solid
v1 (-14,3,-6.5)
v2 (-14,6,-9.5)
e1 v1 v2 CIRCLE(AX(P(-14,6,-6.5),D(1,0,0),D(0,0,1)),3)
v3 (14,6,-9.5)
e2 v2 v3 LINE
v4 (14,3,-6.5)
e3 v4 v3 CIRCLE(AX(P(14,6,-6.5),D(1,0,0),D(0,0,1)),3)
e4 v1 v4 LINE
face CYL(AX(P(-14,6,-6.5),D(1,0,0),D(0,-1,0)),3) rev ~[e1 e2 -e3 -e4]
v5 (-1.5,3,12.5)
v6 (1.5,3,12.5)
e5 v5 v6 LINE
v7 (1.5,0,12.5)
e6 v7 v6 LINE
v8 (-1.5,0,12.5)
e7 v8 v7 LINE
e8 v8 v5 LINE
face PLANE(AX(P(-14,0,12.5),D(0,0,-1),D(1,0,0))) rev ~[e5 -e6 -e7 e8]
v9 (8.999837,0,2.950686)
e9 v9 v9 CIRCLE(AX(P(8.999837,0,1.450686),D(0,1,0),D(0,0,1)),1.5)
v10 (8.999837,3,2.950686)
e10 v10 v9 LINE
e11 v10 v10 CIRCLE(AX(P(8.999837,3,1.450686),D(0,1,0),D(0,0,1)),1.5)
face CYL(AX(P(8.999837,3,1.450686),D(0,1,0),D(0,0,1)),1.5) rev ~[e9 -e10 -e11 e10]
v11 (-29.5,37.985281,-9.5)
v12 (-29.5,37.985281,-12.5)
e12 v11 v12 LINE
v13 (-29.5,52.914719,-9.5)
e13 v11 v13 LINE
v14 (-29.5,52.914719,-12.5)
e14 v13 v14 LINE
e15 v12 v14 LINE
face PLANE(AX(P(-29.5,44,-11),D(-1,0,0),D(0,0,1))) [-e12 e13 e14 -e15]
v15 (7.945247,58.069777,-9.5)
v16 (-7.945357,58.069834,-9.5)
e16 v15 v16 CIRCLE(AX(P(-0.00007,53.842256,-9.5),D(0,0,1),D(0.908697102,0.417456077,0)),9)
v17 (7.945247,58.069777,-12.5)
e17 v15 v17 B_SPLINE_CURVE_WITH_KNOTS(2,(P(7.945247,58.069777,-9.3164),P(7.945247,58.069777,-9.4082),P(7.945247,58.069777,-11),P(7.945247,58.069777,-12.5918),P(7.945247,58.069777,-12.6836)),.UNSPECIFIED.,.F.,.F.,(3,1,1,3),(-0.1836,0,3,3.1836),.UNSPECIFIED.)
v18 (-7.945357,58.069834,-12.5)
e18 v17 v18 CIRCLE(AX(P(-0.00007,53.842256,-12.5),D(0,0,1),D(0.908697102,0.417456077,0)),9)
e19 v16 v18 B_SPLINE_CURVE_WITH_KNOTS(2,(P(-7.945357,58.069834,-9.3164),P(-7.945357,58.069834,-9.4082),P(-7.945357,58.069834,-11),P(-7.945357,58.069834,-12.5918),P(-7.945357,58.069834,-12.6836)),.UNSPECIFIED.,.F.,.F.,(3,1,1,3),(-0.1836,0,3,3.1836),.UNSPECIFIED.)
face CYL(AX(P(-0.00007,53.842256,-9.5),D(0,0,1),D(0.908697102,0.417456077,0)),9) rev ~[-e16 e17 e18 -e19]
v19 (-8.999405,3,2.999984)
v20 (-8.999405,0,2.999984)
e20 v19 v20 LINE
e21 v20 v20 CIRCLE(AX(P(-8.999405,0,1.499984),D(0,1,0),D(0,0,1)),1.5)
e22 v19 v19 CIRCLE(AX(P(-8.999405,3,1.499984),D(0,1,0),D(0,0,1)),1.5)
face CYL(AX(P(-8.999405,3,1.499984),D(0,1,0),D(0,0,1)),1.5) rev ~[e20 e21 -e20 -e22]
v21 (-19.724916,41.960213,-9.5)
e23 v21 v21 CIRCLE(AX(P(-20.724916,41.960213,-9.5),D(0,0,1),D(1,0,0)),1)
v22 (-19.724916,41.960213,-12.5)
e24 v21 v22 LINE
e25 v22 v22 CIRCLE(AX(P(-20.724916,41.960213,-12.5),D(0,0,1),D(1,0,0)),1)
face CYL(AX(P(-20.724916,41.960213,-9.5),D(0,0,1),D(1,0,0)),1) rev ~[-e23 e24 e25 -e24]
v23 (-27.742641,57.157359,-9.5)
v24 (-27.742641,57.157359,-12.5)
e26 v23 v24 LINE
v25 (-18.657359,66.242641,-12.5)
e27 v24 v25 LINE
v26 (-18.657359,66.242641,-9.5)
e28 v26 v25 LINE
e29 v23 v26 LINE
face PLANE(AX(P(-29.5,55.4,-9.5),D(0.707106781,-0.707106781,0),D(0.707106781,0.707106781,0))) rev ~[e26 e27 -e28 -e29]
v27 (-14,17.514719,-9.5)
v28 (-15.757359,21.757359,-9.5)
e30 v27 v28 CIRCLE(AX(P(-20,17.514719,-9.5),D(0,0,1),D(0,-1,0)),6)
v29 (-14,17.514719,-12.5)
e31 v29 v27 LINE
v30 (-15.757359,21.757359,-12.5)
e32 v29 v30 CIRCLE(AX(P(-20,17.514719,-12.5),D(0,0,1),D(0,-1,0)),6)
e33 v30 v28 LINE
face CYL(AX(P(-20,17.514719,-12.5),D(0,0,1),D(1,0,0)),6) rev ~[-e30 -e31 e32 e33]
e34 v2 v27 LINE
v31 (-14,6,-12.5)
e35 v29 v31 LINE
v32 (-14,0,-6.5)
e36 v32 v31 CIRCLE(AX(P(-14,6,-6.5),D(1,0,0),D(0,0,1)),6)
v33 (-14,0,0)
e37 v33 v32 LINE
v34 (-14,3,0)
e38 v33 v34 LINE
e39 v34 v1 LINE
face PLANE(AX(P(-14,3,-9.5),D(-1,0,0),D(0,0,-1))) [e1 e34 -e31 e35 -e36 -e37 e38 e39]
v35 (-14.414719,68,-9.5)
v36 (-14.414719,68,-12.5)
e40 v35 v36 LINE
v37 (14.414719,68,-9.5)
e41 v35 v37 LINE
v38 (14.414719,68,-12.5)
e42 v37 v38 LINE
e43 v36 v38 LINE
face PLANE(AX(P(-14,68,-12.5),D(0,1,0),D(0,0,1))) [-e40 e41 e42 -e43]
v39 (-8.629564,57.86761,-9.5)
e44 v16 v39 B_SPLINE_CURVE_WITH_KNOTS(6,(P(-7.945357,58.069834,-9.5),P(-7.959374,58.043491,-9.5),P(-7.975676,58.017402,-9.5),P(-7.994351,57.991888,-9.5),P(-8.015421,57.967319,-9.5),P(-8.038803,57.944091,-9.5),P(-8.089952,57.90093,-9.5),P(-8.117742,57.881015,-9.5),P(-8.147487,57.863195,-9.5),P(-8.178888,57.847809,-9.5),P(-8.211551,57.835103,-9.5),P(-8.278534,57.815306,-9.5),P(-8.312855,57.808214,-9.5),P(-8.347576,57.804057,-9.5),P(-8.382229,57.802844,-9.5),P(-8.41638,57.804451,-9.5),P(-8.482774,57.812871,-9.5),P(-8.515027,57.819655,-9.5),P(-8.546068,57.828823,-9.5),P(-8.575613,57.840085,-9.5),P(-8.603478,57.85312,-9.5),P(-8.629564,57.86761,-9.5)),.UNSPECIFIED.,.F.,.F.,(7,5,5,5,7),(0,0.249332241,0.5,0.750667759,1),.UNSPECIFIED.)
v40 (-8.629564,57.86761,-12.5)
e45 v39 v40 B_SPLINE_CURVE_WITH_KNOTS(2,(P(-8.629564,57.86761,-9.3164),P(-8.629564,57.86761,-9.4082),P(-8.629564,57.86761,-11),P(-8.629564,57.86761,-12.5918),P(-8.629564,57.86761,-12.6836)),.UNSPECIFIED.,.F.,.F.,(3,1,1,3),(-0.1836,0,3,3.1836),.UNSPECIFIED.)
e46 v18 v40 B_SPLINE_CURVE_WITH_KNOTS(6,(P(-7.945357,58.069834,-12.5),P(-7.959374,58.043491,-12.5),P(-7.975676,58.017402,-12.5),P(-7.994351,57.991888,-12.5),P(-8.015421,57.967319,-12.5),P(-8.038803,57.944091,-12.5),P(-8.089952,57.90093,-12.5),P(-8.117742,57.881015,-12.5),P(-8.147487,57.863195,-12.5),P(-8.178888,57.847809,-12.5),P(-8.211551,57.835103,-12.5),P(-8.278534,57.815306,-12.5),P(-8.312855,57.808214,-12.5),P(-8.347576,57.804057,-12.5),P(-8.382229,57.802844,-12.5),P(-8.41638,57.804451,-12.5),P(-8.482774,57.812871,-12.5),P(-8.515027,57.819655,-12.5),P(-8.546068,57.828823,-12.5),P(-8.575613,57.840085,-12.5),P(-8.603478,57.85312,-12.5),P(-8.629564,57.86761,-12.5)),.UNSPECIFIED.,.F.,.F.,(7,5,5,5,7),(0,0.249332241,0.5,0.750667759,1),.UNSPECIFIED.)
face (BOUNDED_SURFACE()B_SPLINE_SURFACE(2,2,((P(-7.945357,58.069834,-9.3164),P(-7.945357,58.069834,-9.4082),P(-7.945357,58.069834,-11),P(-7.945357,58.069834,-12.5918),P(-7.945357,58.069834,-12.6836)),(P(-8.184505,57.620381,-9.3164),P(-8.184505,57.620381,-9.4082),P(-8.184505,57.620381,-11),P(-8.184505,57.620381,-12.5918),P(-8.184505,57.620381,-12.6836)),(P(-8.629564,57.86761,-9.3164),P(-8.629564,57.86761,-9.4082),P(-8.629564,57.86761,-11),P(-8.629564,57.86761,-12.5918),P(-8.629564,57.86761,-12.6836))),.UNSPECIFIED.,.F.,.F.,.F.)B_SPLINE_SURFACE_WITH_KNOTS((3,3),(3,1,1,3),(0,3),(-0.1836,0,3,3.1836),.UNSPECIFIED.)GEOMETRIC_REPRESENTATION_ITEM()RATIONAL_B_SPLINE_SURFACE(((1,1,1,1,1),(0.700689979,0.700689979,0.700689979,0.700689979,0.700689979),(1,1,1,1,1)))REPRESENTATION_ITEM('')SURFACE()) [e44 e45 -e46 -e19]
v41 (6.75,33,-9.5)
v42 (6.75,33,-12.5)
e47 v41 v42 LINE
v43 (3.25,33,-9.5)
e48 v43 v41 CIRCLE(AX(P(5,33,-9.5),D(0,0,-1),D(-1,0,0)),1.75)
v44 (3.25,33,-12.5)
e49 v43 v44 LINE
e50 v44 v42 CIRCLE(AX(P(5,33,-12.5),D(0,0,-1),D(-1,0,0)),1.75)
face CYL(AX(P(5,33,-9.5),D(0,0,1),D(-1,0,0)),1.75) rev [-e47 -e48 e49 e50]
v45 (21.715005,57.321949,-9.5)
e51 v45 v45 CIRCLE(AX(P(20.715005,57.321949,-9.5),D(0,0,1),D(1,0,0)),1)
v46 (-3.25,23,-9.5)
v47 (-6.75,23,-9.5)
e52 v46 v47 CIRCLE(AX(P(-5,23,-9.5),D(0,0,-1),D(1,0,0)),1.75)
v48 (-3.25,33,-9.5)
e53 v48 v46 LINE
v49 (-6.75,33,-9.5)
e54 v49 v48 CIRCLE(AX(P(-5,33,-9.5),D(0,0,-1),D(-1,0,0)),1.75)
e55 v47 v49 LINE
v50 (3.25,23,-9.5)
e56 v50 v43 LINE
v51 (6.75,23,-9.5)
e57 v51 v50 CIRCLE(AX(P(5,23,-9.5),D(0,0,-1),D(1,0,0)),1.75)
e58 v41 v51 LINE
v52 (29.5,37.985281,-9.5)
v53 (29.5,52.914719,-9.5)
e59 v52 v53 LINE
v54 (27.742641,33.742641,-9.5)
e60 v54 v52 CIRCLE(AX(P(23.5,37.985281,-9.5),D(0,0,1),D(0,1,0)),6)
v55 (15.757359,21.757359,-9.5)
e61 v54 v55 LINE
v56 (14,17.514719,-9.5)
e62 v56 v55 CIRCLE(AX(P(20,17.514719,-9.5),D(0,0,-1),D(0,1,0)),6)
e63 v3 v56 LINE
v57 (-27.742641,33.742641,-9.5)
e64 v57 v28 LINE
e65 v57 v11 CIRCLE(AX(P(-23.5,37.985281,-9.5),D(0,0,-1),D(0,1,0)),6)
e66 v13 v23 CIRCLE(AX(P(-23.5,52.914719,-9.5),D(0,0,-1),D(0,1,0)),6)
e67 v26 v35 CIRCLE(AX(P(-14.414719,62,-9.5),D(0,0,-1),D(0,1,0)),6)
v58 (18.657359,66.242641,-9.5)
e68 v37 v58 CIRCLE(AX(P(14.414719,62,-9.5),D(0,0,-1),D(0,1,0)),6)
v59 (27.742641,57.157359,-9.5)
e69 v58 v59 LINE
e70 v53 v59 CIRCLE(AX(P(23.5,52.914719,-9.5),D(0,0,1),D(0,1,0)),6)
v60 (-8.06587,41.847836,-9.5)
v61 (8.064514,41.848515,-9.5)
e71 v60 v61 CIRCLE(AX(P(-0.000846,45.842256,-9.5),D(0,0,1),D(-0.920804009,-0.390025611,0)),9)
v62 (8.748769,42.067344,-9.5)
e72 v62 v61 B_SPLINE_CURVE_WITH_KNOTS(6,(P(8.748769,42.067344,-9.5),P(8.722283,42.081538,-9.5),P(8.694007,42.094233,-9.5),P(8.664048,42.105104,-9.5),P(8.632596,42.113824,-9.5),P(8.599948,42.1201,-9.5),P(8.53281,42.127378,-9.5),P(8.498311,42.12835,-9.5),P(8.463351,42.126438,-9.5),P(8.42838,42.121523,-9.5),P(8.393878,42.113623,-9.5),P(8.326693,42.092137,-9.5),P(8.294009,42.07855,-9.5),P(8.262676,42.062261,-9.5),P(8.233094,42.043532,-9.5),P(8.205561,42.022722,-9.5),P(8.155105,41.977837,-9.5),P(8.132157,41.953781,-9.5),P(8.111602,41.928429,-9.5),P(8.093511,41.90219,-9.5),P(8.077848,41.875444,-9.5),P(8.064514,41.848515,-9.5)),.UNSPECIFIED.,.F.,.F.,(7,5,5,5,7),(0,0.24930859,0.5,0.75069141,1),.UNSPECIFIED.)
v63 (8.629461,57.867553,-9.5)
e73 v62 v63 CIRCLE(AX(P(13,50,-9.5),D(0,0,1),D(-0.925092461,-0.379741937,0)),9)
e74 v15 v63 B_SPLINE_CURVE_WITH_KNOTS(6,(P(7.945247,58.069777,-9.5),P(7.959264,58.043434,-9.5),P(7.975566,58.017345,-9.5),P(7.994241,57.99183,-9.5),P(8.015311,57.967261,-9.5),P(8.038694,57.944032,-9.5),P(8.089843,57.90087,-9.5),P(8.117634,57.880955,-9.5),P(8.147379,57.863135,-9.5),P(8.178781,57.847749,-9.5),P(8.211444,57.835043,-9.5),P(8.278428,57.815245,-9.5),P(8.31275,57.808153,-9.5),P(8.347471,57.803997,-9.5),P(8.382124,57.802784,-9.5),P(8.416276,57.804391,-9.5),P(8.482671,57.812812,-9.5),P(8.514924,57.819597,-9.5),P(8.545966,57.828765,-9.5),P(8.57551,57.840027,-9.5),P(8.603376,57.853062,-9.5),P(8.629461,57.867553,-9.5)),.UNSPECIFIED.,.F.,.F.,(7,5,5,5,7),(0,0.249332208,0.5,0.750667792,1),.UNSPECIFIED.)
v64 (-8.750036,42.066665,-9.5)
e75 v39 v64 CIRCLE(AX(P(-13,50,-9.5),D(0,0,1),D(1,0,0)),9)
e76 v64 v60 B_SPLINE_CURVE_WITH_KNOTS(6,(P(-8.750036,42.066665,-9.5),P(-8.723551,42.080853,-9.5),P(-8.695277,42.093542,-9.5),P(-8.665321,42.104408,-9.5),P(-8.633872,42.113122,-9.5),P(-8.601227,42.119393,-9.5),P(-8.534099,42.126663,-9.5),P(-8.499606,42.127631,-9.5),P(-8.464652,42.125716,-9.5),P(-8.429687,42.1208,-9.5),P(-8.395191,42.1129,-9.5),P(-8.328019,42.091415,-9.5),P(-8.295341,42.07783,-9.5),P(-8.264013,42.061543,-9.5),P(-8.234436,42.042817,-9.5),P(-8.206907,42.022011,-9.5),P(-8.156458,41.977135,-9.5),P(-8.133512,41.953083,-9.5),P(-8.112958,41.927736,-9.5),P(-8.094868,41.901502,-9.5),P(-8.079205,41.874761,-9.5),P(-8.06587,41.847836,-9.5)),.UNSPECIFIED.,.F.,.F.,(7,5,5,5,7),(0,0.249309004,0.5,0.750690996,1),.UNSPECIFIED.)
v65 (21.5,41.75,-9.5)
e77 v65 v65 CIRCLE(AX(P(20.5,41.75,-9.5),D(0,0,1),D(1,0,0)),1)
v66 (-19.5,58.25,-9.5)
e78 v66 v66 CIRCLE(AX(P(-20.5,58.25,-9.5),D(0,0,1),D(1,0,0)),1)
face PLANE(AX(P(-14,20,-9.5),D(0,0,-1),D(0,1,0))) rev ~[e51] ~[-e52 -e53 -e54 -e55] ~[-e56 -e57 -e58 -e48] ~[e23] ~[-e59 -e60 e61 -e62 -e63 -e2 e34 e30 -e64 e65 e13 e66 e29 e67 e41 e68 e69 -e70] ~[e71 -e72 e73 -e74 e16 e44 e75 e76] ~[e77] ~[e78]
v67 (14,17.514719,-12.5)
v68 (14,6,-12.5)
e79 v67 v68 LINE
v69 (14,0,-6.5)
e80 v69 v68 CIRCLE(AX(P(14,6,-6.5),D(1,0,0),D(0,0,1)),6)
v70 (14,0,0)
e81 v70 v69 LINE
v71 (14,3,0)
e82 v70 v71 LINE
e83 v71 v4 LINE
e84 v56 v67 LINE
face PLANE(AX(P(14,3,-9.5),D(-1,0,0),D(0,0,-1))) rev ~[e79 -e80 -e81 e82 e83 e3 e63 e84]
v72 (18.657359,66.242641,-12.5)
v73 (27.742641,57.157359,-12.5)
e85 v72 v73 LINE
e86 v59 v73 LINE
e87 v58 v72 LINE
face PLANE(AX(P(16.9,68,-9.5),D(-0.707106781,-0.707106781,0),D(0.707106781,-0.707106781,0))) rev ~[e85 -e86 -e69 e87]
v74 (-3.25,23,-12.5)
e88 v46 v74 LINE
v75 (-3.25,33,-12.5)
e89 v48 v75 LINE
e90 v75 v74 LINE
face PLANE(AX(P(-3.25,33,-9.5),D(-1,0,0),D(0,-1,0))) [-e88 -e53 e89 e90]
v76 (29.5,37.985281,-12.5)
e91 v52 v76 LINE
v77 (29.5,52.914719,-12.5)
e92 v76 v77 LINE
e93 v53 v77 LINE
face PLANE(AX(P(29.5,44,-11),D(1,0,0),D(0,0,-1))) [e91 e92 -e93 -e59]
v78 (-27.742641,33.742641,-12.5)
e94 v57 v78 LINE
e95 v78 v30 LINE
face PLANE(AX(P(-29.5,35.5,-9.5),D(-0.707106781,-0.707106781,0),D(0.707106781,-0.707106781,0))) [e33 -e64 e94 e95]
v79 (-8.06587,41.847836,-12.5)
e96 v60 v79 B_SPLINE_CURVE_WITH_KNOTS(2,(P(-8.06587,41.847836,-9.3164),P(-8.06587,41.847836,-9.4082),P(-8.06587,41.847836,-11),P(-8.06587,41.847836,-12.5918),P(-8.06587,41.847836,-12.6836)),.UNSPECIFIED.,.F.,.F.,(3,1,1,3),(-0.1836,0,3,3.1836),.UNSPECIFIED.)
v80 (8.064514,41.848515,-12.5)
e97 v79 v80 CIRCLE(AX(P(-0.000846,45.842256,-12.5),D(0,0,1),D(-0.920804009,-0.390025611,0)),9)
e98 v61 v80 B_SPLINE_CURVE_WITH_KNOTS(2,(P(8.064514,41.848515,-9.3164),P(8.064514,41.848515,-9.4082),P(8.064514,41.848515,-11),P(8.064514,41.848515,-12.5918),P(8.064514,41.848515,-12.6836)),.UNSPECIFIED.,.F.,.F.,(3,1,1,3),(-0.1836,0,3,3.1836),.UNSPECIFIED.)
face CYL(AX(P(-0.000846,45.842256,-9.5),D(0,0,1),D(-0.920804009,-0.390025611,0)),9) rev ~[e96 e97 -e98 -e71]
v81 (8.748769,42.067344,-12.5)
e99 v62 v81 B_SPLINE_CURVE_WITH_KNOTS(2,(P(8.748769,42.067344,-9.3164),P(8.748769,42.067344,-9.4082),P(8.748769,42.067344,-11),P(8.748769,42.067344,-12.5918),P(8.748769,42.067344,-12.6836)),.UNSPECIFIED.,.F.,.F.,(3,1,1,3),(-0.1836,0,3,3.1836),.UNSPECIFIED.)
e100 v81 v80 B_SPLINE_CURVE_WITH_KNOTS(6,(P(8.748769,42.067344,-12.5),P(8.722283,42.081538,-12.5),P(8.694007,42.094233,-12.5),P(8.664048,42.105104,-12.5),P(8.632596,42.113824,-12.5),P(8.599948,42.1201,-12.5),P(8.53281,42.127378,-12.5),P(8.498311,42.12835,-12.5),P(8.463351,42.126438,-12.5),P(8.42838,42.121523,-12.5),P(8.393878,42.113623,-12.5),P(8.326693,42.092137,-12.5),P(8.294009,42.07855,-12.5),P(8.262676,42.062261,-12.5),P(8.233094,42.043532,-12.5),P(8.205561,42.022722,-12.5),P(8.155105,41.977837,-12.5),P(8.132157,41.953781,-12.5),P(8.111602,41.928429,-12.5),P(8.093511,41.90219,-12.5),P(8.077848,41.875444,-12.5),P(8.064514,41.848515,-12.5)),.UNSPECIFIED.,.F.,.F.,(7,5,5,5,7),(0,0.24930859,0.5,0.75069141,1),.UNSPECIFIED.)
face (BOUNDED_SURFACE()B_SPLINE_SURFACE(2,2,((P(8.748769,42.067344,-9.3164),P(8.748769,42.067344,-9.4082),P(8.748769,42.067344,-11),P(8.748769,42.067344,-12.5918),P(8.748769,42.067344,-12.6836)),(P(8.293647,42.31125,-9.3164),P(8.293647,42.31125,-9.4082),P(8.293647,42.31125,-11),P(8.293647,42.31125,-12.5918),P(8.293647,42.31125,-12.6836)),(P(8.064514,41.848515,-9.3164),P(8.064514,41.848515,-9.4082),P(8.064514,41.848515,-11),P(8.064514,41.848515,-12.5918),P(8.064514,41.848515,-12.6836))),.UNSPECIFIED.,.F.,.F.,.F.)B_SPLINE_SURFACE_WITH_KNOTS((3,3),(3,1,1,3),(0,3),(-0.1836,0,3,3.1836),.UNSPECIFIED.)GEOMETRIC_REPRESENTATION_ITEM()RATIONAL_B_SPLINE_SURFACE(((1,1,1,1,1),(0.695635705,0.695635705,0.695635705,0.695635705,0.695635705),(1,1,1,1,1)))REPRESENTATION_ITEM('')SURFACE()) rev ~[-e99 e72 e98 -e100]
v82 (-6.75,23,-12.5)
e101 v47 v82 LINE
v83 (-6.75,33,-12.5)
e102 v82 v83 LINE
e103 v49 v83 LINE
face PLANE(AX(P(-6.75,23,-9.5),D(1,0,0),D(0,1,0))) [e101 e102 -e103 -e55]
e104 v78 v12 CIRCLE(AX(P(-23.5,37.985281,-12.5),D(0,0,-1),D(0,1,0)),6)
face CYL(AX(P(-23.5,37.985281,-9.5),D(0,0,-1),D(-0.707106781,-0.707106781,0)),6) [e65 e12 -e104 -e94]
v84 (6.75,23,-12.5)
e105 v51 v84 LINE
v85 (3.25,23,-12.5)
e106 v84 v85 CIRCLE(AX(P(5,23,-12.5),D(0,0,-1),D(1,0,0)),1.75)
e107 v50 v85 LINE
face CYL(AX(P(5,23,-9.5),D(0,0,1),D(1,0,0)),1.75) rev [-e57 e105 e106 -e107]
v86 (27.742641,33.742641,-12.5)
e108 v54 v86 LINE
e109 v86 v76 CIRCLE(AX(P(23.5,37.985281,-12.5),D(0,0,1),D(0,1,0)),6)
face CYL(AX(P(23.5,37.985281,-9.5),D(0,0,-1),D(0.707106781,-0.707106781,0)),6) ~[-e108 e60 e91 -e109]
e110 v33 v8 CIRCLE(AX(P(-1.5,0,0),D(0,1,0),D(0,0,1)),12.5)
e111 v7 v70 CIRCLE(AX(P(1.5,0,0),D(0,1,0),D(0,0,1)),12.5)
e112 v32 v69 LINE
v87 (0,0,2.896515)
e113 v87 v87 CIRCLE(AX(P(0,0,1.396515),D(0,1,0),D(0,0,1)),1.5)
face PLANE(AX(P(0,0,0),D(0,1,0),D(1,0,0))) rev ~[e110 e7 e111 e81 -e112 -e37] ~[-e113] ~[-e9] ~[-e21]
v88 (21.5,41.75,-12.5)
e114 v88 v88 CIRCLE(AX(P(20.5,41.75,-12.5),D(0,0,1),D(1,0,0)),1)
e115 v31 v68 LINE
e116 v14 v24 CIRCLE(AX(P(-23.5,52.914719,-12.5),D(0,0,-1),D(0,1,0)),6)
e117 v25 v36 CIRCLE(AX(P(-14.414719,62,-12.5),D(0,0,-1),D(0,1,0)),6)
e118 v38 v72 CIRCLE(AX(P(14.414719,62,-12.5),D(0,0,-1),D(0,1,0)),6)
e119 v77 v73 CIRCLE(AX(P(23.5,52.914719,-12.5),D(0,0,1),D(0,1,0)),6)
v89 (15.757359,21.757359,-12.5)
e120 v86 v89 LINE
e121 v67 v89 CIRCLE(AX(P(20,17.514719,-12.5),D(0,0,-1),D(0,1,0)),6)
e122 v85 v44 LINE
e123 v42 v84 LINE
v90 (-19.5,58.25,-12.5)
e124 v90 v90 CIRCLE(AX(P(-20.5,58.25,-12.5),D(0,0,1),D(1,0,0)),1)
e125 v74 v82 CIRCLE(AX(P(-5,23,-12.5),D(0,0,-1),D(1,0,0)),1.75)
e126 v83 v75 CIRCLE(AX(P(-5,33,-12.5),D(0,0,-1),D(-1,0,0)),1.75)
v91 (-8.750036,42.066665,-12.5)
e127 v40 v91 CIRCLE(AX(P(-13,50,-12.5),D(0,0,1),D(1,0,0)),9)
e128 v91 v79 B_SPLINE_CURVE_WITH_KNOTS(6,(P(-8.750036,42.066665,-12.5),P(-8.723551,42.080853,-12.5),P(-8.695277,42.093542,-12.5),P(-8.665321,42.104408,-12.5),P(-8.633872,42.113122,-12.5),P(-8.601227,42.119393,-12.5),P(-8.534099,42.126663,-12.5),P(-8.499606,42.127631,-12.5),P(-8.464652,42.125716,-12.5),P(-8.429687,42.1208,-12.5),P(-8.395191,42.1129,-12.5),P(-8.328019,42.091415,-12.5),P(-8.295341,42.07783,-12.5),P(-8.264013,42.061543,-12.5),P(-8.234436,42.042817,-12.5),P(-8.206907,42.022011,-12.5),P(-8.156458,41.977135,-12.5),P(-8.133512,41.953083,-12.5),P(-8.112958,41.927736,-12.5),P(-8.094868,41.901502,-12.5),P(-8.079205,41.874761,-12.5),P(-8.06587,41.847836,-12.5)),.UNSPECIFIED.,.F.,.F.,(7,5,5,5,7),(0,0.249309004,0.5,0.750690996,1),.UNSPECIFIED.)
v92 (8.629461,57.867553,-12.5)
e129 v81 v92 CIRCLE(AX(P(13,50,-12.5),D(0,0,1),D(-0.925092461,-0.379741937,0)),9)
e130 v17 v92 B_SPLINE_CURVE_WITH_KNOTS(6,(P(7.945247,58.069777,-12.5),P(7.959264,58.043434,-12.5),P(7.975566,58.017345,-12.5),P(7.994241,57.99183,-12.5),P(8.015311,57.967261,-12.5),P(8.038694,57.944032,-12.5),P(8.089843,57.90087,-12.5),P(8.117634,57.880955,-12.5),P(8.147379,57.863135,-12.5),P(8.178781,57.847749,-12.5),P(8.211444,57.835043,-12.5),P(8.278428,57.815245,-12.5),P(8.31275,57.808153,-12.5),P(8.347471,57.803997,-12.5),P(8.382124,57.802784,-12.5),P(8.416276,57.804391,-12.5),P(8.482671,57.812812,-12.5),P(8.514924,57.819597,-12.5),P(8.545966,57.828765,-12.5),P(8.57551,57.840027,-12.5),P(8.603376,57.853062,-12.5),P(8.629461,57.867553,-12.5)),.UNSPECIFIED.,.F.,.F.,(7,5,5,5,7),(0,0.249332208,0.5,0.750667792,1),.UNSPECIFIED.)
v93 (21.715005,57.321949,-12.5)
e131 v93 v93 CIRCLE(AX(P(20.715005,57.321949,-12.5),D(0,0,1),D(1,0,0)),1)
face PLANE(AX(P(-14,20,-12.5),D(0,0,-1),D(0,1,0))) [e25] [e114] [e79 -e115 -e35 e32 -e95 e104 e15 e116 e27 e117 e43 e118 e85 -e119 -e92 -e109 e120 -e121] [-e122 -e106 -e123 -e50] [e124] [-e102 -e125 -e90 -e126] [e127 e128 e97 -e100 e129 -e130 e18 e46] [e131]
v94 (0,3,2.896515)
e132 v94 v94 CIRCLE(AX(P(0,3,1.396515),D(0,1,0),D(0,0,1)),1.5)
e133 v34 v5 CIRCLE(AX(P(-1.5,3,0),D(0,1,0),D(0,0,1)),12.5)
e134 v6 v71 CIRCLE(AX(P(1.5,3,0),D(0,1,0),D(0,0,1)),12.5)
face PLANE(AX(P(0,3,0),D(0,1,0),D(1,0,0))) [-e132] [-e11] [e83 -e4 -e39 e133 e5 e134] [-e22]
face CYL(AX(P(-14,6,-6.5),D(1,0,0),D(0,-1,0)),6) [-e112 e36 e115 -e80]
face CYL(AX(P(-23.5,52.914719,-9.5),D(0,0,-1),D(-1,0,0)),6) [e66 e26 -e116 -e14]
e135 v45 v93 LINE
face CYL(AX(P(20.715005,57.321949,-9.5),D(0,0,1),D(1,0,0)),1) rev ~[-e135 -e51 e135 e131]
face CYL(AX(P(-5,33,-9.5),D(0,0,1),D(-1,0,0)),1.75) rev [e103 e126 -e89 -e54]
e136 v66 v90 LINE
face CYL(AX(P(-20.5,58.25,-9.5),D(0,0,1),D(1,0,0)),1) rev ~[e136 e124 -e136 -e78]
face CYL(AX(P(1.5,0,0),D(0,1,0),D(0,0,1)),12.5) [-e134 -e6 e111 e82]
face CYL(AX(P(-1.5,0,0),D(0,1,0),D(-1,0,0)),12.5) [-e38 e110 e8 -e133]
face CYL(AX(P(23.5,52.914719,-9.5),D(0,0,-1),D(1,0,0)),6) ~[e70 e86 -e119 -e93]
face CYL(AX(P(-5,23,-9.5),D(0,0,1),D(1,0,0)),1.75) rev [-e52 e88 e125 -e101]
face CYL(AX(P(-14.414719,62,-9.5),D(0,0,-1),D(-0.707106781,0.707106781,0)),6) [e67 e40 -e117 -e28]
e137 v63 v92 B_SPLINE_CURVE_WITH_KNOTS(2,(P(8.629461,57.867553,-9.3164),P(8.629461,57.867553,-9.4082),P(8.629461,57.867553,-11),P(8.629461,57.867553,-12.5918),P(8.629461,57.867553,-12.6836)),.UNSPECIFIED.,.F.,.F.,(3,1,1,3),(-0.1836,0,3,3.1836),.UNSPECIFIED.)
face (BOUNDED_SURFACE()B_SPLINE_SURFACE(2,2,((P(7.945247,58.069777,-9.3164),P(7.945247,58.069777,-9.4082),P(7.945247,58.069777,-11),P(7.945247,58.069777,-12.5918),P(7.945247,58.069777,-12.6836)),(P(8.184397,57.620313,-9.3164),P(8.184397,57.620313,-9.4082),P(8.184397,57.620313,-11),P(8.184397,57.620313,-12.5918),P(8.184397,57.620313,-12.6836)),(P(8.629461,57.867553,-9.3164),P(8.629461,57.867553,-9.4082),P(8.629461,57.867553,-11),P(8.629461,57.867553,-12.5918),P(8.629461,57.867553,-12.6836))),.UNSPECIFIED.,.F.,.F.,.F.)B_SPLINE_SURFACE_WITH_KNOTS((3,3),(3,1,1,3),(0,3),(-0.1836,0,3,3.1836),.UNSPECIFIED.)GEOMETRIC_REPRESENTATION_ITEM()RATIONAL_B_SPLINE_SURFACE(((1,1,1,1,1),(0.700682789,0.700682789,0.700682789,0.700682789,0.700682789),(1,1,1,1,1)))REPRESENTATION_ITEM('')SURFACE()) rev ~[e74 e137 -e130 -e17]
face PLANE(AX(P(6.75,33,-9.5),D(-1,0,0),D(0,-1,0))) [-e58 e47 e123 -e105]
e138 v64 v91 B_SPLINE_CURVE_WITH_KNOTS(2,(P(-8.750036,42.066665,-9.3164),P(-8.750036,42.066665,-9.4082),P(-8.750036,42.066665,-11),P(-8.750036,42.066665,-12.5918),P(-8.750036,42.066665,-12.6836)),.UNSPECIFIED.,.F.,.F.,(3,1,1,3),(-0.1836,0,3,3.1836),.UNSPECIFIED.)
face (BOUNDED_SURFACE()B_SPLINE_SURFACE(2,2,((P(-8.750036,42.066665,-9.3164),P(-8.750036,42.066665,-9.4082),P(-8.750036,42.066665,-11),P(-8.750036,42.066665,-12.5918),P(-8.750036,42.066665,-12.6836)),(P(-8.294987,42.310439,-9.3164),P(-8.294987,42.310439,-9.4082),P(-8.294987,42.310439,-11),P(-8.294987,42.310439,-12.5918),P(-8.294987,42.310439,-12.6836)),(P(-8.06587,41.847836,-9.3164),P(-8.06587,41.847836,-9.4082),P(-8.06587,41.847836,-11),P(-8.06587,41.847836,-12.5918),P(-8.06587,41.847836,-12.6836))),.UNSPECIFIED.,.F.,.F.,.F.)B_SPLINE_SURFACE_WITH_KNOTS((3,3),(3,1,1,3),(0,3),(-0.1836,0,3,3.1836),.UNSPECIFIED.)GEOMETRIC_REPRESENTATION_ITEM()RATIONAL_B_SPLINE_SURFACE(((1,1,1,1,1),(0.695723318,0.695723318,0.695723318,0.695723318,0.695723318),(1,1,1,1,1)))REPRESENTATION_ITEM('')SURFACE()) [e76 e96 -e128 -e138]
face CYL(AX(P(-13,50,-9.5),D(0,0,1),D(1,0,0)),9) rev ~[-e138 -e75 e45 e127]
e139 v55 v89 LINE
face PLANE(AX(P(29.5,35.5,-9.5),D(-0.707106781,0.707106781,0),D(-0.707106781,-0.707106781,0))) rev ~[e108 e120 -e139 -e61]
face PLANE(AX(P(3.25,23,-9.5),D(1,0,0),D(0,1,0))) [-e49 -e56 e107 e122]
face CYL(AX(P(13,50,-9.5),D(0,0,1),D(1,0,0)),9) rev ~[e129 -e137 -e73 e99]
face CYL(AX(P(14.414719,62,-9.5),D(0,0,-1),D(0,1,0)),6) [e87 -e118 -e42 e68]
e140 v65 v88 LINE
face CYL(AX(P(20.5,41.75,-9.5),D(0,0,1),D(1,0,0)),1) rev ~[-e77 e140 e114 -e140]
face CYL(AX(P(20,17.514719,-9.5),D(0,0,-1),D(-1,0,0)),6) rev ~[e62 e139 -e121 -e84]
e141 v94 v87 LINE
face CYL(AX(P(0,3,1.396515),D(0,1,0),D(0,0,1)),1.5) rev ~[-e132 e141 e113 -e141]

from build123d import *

# Parameters (mm, degrees)
SKETCH1_W           = 28
SKETCH1_H           = 25
BOSS_EXTRUDE1_DEPTH = 3
FILLET1_R           = 12.5
SKETCH2_W           = 28
SKETCH2_H           = 3
BOSS_EXTRUDE2_DEPTH = 65
SKETCH3_W           = 3
SKETCH3_H           = 48
BOSS_EXTRUDE3_DEPTH = 15.5
SKETCH4_W           = 3
SKETCH4_H           = 48
BOSS_EXTRUDE4_DEPTH = 15.5
SKETCH9_W           = 14.741294127
SKETCH9_H           = 6.665628648
CUT_EXTRUDE1_DEPTH  = 3
SKETCH6_R           = 9
CUT_EXTRUDE2_DEPTH  = 3
CUT_EXTRUDE4_DEPTH  = 3
CUT_EXTRUDE5_DEPTH  = 3
CUT_EXTRUDE8_DEPTH  = 3
FILLET3_R           = 3
FILLET4_R           = 6
FILLET5_R           = 6
FILLET6_R           = 6
FILLET7_R           = 0.5
SKETCH13_R          = 1.5
CUT_EXTRUDE10_DEPTH = 3
SKETCH14_R          = 1
CUT_EXTRUDE11_DEPTH = 3


with BuildPart() as part:
    # Sketch1 → Boss-Extrude1 (new body)
    with BuildSketch(Plane(origin=(0, 0, 0), x_dir=(1, 0, 0), z_dir=(0, 1, 0))):
        Rectangle(SKETCH1_W, SKETCH1_H)
    extrude(amount=BOSS_EXTRUDE1_DEPTH)

    # Fillet1
    fillet1_edges = [part.edges().sort_by_distance(p)[0] for p in [
        (14, 1.5, 12.5),
        (-14, 1.5, 12.5),
    ]]
    fillet(fillet1_edges, radius=FILLET1_R)

    # Sketch2 → Boss-Extrude2 (add)
    with BuildSketch(Plane(origin=(0, 3, 0), x_dir=(1, 0, 0), z_dir=(0, 1, 0))):
        with Locations((0, 11)):
            Rectangle(SKETCH2_W, SKETCH2_H)
    extrude(amount=BOSS_EXTRUDE2_DEPTH)

    # Sketch3 → Boss-Extrude3 (add)
    with BuildSketch(Plane(origin=(14, 0, 0), x_dir=(0, 0, -1), z_dir=(1, 0, 0))):
        with Locations((11, 44)):
            Rectangle(SKETCH3_W, SKETCH3_H)
    extrude(amount=BOSS_EXTRUDE3_DEPTH)

    # Sketch4 → Boss-Extrude4 (add)
    with BuildSketch(Plane.ZY.offset(14)):
        with Locations((-11, 44)):
            Rectangle(SKETCH4_W, SKETCH4_H)
    extrude(amount=BOSS_EXTRUDE4_DEPTH)

    # Sketch9 → Cut-Extrude1 (cut)
    with BuildSketch(Plane.XY.offset(-9.5)):
        with Locations((0.406189009, 49.915136893)):
            Rectangle(SKETCH9_W, SKETCH9_H)
    extrude(amount=-CUT_EXTRUDE1_DEPTH, mode=Mode.SUBTRACT)

    # Sketch6 → Cut-Extrude2 (cut)
    with BuildSketch(Plane.XY.offset(-9.5)):
        with Locations((-13, 50)):
            Circle(SKETCH6_R)
        with Locations((13, 50)):
            Circle(SKETCH6_R)
    extrude(amount=-CUT_EXTRUDE2_DEPTH, mode=Mode.SUBTRACT)

    # Sketch10 → Cut-Extrude4 (cut)
    with BuildSketch(Plane.XY.offset(-9.5)):
        with BuildLine():
            ThreePointArc((4.712414346, 53.509405082), (6.133712339, 55.818427086), (8.178203975, 57.599360703))
            ThreePointArc((8.178203975, 57.599360703), (-3.213e-05, 62.842256013), (-8.178312295, 57.599429431))
            ThreePointArc((-8.178312295, 57.599429431), (-6.134043572, 55.818817949), (-4.71276392, 53.5102305))
            ThreePointArc((-4.71276392, 53.5102305), (-5.8098e-05, 54.842256016), (4.712414346, 53.509405082))
        make_face()
        with BuildLine():
            ThreePointArc((-8.28808236, 42.332025551), (-0.000398085, 36.842256062), (8.286739374, 42.332850969))
            ThreePointArc((8.286739374, 42.332850969), (6.264272315, 44.030915266), (4.821726078, 46.24289531))
            ThreePointArc((4.821726078, 46.24289531), (-5.805e-06, 44.842256013), (-4.821757652, 46.242826582))
            ThreePointArc((-4.821757652, 46.242826582), (-6.264820173, 44.030297102), (-8.28808236, 42.332025551))
        make_face()
        with BuildLine():
            ThreePointArc((-4.821757652, 46.242826582), (-5.805e-06, 44.842256013), (4.821726078, 46.24289531))
            ThreePointArc((4.821726078, 46.24289531), (4.746201964, 46.41185034), (4.674167851, 46.582322569))
            Line((4.674167851, 46.582322569), (-4.674167851, 46.582322569))
            ThreePointArc((-4.674167851, 46.582322569), (-4.746217041, 46.411815659), (-4.821757652, 46.242826582))
        make_face()
        with BuildLine():
            ThreePointArc((4.606501749, 53.247951217), (4.658433625, 53.379093134), (4.712414346, 53.509405082))
            ThreePointArc((4.712414346, 53.509405082), (-5.8098e-05, 54.842256016), (-4.71276392, 53.5102305))
            ThreePointArc((-4.71276392, 53.5102305), (-4.658601912, 53.379508536), (-4.606501749, 53.247951217))
            Line((-4.606501749, 53.247951217), (4.606501749, 53.247951217))
        make_face()
    extrude(amount=-CUT_EXTRUDE4_DEPTH, mode=Mode.SUBTRACT)

    # Sketch11 → Cut-Extrude5 (cut)
    with BuildSketch(Plane.XY.offset(-9.5)):
        Polygon((-29.5, 55.4), (-16.9, 68), (-29.5, 68), align=None)
        Polygon((29.5, 55.4), (29.5, 68), (16.9, 68), align=None)
        Polygon((14, 20), (29.5, 20), (29.5, 35.5), align=None)
        Polygon((-14, 20), (-29.5, 20), (-29.5, 35.5), align=None)
    extrude(amount=-CUT_EXTRUDE5_DEPTH, mode=Mode.SUBTRACT)

    # Sketch12 → Cut-Extrude8 (cut)
    with BuildSketch(Plane.XY.offset(-9.5)):
        with BuildLine():
            Line((-3.25, 33), (-3.25, 23))
            ThreePointArc((-3.25, 23), (-5, 21.25), (-6.75, 23))
            Line((-6.75, 23), (-6.75, 33))
            ThreePointArc((-6.75, 33), (-5, 34.75), (-3.25, 33))
        make_face()
        with BuildLine():
            Line((6.75, 33), (6.75, 23))
            ThreePointArc((6.75, 23), (5, 21.25), (3.25, 23))
            Line((3.25, 23), (3.25, 33))
            ThreePointArc((3.25, 33), (5, 34.75), (6.75, 33))
        make_face()
    extrude(amount=-CUT_EXTRUDE8_DEPTH, mode=Mode.SUBTRACT)

    # Fillet3
    fillet3_edges = [part.edges().sort_by_distance(p)[0] for p in [
        (0, 3, -9.5),
    ]]
    fillet(fillet3_edges, radius=FILLET3_R)

    # Fillet4
    fillet4_edges = [part.edges().sort_by_distance(p)[0] for p in [
        (0, 0, -12.5),
    ]]
    fillet(fillet4_edges, radius=FILLET4_R)

    # Fillet5
    fillet5_edges = [part.edges().sort_by_distance(p)[0] for p in [
        (-14, 20, -11),
        (14, 20, -11),
    ]]
    fillet(fillet5_edges, radius=FILLET5_R)

    # Fillet6
    fillet6_edges = [part.edges().sort_by_distance(p)[0] for p in [
        (-29.5, 55.4, -11),
        (-16.9, 68, -11),
        (29.5, 55.4, -11),
        (16.9, 68, -11),
        (29.5, 35.5, -11),
        (-29.5, 35.5, -11),
    ]]
    fillet(fillet6_edges, radius=FILLET6_R)

    # Fillet7
    fillet7_edges = [part.edges().sort_by_distance(p)[0] for p in [
        (-8.28808236, 42.332025551, -11),
        (8.286739374, 42.332850969, -11),
        (-8.178312295, 57.599429431, -11),
        (8.178203975, 57.599360703, -11),
    ]]
    fillet(fillet7_edges, radius=FILLET7_R)

    # Sketch13 → Cut-Extrude10 (cut)
    with BuildSketch(Plane(origin=(0, 3, 0), x_dir=(1, 0, 0), z_dir=(0, 1, 0))):
        with Locations(Location((0, -1.396515007, 0), (0, 0, 270))):
            Circle(SKETCH13_R)
        with Locations(Location((8.999836974, -1.450685505, 0), (0, 0, 270))):
            Circle(SKETCH13_R)
        with Locations(Location((-8.999405212, -1.499984009, 0), (0, 0, 270))):
            Circle(SKETCH13_R)
    extrude(amount=-CUT_EXTRUDE10_DEPTH, mode=Mode.SUBTRACT)

    # Sketch14 → Cut-Extrude11 (cut)
    with BuildSketch(Plane.XY.offset(-9.5)):
        with Locations((-20.5, 58.25)):
            Circle(SKETCH14_R)
        with Locations((-20.724916228, 41.960213357)):
            Circle(SKETCH14_R)
        with Locations((20.5, 41.75)):
            Circle(SKETCH14_R)
        with Locations((20.715004912, 57.321949454)):
            Circle(SKETCH14_R)
    extrude(amount=-CUT_EXTRUDE11_DEPTH, mode=Mode.SUBTRACT)


solid = part.part
